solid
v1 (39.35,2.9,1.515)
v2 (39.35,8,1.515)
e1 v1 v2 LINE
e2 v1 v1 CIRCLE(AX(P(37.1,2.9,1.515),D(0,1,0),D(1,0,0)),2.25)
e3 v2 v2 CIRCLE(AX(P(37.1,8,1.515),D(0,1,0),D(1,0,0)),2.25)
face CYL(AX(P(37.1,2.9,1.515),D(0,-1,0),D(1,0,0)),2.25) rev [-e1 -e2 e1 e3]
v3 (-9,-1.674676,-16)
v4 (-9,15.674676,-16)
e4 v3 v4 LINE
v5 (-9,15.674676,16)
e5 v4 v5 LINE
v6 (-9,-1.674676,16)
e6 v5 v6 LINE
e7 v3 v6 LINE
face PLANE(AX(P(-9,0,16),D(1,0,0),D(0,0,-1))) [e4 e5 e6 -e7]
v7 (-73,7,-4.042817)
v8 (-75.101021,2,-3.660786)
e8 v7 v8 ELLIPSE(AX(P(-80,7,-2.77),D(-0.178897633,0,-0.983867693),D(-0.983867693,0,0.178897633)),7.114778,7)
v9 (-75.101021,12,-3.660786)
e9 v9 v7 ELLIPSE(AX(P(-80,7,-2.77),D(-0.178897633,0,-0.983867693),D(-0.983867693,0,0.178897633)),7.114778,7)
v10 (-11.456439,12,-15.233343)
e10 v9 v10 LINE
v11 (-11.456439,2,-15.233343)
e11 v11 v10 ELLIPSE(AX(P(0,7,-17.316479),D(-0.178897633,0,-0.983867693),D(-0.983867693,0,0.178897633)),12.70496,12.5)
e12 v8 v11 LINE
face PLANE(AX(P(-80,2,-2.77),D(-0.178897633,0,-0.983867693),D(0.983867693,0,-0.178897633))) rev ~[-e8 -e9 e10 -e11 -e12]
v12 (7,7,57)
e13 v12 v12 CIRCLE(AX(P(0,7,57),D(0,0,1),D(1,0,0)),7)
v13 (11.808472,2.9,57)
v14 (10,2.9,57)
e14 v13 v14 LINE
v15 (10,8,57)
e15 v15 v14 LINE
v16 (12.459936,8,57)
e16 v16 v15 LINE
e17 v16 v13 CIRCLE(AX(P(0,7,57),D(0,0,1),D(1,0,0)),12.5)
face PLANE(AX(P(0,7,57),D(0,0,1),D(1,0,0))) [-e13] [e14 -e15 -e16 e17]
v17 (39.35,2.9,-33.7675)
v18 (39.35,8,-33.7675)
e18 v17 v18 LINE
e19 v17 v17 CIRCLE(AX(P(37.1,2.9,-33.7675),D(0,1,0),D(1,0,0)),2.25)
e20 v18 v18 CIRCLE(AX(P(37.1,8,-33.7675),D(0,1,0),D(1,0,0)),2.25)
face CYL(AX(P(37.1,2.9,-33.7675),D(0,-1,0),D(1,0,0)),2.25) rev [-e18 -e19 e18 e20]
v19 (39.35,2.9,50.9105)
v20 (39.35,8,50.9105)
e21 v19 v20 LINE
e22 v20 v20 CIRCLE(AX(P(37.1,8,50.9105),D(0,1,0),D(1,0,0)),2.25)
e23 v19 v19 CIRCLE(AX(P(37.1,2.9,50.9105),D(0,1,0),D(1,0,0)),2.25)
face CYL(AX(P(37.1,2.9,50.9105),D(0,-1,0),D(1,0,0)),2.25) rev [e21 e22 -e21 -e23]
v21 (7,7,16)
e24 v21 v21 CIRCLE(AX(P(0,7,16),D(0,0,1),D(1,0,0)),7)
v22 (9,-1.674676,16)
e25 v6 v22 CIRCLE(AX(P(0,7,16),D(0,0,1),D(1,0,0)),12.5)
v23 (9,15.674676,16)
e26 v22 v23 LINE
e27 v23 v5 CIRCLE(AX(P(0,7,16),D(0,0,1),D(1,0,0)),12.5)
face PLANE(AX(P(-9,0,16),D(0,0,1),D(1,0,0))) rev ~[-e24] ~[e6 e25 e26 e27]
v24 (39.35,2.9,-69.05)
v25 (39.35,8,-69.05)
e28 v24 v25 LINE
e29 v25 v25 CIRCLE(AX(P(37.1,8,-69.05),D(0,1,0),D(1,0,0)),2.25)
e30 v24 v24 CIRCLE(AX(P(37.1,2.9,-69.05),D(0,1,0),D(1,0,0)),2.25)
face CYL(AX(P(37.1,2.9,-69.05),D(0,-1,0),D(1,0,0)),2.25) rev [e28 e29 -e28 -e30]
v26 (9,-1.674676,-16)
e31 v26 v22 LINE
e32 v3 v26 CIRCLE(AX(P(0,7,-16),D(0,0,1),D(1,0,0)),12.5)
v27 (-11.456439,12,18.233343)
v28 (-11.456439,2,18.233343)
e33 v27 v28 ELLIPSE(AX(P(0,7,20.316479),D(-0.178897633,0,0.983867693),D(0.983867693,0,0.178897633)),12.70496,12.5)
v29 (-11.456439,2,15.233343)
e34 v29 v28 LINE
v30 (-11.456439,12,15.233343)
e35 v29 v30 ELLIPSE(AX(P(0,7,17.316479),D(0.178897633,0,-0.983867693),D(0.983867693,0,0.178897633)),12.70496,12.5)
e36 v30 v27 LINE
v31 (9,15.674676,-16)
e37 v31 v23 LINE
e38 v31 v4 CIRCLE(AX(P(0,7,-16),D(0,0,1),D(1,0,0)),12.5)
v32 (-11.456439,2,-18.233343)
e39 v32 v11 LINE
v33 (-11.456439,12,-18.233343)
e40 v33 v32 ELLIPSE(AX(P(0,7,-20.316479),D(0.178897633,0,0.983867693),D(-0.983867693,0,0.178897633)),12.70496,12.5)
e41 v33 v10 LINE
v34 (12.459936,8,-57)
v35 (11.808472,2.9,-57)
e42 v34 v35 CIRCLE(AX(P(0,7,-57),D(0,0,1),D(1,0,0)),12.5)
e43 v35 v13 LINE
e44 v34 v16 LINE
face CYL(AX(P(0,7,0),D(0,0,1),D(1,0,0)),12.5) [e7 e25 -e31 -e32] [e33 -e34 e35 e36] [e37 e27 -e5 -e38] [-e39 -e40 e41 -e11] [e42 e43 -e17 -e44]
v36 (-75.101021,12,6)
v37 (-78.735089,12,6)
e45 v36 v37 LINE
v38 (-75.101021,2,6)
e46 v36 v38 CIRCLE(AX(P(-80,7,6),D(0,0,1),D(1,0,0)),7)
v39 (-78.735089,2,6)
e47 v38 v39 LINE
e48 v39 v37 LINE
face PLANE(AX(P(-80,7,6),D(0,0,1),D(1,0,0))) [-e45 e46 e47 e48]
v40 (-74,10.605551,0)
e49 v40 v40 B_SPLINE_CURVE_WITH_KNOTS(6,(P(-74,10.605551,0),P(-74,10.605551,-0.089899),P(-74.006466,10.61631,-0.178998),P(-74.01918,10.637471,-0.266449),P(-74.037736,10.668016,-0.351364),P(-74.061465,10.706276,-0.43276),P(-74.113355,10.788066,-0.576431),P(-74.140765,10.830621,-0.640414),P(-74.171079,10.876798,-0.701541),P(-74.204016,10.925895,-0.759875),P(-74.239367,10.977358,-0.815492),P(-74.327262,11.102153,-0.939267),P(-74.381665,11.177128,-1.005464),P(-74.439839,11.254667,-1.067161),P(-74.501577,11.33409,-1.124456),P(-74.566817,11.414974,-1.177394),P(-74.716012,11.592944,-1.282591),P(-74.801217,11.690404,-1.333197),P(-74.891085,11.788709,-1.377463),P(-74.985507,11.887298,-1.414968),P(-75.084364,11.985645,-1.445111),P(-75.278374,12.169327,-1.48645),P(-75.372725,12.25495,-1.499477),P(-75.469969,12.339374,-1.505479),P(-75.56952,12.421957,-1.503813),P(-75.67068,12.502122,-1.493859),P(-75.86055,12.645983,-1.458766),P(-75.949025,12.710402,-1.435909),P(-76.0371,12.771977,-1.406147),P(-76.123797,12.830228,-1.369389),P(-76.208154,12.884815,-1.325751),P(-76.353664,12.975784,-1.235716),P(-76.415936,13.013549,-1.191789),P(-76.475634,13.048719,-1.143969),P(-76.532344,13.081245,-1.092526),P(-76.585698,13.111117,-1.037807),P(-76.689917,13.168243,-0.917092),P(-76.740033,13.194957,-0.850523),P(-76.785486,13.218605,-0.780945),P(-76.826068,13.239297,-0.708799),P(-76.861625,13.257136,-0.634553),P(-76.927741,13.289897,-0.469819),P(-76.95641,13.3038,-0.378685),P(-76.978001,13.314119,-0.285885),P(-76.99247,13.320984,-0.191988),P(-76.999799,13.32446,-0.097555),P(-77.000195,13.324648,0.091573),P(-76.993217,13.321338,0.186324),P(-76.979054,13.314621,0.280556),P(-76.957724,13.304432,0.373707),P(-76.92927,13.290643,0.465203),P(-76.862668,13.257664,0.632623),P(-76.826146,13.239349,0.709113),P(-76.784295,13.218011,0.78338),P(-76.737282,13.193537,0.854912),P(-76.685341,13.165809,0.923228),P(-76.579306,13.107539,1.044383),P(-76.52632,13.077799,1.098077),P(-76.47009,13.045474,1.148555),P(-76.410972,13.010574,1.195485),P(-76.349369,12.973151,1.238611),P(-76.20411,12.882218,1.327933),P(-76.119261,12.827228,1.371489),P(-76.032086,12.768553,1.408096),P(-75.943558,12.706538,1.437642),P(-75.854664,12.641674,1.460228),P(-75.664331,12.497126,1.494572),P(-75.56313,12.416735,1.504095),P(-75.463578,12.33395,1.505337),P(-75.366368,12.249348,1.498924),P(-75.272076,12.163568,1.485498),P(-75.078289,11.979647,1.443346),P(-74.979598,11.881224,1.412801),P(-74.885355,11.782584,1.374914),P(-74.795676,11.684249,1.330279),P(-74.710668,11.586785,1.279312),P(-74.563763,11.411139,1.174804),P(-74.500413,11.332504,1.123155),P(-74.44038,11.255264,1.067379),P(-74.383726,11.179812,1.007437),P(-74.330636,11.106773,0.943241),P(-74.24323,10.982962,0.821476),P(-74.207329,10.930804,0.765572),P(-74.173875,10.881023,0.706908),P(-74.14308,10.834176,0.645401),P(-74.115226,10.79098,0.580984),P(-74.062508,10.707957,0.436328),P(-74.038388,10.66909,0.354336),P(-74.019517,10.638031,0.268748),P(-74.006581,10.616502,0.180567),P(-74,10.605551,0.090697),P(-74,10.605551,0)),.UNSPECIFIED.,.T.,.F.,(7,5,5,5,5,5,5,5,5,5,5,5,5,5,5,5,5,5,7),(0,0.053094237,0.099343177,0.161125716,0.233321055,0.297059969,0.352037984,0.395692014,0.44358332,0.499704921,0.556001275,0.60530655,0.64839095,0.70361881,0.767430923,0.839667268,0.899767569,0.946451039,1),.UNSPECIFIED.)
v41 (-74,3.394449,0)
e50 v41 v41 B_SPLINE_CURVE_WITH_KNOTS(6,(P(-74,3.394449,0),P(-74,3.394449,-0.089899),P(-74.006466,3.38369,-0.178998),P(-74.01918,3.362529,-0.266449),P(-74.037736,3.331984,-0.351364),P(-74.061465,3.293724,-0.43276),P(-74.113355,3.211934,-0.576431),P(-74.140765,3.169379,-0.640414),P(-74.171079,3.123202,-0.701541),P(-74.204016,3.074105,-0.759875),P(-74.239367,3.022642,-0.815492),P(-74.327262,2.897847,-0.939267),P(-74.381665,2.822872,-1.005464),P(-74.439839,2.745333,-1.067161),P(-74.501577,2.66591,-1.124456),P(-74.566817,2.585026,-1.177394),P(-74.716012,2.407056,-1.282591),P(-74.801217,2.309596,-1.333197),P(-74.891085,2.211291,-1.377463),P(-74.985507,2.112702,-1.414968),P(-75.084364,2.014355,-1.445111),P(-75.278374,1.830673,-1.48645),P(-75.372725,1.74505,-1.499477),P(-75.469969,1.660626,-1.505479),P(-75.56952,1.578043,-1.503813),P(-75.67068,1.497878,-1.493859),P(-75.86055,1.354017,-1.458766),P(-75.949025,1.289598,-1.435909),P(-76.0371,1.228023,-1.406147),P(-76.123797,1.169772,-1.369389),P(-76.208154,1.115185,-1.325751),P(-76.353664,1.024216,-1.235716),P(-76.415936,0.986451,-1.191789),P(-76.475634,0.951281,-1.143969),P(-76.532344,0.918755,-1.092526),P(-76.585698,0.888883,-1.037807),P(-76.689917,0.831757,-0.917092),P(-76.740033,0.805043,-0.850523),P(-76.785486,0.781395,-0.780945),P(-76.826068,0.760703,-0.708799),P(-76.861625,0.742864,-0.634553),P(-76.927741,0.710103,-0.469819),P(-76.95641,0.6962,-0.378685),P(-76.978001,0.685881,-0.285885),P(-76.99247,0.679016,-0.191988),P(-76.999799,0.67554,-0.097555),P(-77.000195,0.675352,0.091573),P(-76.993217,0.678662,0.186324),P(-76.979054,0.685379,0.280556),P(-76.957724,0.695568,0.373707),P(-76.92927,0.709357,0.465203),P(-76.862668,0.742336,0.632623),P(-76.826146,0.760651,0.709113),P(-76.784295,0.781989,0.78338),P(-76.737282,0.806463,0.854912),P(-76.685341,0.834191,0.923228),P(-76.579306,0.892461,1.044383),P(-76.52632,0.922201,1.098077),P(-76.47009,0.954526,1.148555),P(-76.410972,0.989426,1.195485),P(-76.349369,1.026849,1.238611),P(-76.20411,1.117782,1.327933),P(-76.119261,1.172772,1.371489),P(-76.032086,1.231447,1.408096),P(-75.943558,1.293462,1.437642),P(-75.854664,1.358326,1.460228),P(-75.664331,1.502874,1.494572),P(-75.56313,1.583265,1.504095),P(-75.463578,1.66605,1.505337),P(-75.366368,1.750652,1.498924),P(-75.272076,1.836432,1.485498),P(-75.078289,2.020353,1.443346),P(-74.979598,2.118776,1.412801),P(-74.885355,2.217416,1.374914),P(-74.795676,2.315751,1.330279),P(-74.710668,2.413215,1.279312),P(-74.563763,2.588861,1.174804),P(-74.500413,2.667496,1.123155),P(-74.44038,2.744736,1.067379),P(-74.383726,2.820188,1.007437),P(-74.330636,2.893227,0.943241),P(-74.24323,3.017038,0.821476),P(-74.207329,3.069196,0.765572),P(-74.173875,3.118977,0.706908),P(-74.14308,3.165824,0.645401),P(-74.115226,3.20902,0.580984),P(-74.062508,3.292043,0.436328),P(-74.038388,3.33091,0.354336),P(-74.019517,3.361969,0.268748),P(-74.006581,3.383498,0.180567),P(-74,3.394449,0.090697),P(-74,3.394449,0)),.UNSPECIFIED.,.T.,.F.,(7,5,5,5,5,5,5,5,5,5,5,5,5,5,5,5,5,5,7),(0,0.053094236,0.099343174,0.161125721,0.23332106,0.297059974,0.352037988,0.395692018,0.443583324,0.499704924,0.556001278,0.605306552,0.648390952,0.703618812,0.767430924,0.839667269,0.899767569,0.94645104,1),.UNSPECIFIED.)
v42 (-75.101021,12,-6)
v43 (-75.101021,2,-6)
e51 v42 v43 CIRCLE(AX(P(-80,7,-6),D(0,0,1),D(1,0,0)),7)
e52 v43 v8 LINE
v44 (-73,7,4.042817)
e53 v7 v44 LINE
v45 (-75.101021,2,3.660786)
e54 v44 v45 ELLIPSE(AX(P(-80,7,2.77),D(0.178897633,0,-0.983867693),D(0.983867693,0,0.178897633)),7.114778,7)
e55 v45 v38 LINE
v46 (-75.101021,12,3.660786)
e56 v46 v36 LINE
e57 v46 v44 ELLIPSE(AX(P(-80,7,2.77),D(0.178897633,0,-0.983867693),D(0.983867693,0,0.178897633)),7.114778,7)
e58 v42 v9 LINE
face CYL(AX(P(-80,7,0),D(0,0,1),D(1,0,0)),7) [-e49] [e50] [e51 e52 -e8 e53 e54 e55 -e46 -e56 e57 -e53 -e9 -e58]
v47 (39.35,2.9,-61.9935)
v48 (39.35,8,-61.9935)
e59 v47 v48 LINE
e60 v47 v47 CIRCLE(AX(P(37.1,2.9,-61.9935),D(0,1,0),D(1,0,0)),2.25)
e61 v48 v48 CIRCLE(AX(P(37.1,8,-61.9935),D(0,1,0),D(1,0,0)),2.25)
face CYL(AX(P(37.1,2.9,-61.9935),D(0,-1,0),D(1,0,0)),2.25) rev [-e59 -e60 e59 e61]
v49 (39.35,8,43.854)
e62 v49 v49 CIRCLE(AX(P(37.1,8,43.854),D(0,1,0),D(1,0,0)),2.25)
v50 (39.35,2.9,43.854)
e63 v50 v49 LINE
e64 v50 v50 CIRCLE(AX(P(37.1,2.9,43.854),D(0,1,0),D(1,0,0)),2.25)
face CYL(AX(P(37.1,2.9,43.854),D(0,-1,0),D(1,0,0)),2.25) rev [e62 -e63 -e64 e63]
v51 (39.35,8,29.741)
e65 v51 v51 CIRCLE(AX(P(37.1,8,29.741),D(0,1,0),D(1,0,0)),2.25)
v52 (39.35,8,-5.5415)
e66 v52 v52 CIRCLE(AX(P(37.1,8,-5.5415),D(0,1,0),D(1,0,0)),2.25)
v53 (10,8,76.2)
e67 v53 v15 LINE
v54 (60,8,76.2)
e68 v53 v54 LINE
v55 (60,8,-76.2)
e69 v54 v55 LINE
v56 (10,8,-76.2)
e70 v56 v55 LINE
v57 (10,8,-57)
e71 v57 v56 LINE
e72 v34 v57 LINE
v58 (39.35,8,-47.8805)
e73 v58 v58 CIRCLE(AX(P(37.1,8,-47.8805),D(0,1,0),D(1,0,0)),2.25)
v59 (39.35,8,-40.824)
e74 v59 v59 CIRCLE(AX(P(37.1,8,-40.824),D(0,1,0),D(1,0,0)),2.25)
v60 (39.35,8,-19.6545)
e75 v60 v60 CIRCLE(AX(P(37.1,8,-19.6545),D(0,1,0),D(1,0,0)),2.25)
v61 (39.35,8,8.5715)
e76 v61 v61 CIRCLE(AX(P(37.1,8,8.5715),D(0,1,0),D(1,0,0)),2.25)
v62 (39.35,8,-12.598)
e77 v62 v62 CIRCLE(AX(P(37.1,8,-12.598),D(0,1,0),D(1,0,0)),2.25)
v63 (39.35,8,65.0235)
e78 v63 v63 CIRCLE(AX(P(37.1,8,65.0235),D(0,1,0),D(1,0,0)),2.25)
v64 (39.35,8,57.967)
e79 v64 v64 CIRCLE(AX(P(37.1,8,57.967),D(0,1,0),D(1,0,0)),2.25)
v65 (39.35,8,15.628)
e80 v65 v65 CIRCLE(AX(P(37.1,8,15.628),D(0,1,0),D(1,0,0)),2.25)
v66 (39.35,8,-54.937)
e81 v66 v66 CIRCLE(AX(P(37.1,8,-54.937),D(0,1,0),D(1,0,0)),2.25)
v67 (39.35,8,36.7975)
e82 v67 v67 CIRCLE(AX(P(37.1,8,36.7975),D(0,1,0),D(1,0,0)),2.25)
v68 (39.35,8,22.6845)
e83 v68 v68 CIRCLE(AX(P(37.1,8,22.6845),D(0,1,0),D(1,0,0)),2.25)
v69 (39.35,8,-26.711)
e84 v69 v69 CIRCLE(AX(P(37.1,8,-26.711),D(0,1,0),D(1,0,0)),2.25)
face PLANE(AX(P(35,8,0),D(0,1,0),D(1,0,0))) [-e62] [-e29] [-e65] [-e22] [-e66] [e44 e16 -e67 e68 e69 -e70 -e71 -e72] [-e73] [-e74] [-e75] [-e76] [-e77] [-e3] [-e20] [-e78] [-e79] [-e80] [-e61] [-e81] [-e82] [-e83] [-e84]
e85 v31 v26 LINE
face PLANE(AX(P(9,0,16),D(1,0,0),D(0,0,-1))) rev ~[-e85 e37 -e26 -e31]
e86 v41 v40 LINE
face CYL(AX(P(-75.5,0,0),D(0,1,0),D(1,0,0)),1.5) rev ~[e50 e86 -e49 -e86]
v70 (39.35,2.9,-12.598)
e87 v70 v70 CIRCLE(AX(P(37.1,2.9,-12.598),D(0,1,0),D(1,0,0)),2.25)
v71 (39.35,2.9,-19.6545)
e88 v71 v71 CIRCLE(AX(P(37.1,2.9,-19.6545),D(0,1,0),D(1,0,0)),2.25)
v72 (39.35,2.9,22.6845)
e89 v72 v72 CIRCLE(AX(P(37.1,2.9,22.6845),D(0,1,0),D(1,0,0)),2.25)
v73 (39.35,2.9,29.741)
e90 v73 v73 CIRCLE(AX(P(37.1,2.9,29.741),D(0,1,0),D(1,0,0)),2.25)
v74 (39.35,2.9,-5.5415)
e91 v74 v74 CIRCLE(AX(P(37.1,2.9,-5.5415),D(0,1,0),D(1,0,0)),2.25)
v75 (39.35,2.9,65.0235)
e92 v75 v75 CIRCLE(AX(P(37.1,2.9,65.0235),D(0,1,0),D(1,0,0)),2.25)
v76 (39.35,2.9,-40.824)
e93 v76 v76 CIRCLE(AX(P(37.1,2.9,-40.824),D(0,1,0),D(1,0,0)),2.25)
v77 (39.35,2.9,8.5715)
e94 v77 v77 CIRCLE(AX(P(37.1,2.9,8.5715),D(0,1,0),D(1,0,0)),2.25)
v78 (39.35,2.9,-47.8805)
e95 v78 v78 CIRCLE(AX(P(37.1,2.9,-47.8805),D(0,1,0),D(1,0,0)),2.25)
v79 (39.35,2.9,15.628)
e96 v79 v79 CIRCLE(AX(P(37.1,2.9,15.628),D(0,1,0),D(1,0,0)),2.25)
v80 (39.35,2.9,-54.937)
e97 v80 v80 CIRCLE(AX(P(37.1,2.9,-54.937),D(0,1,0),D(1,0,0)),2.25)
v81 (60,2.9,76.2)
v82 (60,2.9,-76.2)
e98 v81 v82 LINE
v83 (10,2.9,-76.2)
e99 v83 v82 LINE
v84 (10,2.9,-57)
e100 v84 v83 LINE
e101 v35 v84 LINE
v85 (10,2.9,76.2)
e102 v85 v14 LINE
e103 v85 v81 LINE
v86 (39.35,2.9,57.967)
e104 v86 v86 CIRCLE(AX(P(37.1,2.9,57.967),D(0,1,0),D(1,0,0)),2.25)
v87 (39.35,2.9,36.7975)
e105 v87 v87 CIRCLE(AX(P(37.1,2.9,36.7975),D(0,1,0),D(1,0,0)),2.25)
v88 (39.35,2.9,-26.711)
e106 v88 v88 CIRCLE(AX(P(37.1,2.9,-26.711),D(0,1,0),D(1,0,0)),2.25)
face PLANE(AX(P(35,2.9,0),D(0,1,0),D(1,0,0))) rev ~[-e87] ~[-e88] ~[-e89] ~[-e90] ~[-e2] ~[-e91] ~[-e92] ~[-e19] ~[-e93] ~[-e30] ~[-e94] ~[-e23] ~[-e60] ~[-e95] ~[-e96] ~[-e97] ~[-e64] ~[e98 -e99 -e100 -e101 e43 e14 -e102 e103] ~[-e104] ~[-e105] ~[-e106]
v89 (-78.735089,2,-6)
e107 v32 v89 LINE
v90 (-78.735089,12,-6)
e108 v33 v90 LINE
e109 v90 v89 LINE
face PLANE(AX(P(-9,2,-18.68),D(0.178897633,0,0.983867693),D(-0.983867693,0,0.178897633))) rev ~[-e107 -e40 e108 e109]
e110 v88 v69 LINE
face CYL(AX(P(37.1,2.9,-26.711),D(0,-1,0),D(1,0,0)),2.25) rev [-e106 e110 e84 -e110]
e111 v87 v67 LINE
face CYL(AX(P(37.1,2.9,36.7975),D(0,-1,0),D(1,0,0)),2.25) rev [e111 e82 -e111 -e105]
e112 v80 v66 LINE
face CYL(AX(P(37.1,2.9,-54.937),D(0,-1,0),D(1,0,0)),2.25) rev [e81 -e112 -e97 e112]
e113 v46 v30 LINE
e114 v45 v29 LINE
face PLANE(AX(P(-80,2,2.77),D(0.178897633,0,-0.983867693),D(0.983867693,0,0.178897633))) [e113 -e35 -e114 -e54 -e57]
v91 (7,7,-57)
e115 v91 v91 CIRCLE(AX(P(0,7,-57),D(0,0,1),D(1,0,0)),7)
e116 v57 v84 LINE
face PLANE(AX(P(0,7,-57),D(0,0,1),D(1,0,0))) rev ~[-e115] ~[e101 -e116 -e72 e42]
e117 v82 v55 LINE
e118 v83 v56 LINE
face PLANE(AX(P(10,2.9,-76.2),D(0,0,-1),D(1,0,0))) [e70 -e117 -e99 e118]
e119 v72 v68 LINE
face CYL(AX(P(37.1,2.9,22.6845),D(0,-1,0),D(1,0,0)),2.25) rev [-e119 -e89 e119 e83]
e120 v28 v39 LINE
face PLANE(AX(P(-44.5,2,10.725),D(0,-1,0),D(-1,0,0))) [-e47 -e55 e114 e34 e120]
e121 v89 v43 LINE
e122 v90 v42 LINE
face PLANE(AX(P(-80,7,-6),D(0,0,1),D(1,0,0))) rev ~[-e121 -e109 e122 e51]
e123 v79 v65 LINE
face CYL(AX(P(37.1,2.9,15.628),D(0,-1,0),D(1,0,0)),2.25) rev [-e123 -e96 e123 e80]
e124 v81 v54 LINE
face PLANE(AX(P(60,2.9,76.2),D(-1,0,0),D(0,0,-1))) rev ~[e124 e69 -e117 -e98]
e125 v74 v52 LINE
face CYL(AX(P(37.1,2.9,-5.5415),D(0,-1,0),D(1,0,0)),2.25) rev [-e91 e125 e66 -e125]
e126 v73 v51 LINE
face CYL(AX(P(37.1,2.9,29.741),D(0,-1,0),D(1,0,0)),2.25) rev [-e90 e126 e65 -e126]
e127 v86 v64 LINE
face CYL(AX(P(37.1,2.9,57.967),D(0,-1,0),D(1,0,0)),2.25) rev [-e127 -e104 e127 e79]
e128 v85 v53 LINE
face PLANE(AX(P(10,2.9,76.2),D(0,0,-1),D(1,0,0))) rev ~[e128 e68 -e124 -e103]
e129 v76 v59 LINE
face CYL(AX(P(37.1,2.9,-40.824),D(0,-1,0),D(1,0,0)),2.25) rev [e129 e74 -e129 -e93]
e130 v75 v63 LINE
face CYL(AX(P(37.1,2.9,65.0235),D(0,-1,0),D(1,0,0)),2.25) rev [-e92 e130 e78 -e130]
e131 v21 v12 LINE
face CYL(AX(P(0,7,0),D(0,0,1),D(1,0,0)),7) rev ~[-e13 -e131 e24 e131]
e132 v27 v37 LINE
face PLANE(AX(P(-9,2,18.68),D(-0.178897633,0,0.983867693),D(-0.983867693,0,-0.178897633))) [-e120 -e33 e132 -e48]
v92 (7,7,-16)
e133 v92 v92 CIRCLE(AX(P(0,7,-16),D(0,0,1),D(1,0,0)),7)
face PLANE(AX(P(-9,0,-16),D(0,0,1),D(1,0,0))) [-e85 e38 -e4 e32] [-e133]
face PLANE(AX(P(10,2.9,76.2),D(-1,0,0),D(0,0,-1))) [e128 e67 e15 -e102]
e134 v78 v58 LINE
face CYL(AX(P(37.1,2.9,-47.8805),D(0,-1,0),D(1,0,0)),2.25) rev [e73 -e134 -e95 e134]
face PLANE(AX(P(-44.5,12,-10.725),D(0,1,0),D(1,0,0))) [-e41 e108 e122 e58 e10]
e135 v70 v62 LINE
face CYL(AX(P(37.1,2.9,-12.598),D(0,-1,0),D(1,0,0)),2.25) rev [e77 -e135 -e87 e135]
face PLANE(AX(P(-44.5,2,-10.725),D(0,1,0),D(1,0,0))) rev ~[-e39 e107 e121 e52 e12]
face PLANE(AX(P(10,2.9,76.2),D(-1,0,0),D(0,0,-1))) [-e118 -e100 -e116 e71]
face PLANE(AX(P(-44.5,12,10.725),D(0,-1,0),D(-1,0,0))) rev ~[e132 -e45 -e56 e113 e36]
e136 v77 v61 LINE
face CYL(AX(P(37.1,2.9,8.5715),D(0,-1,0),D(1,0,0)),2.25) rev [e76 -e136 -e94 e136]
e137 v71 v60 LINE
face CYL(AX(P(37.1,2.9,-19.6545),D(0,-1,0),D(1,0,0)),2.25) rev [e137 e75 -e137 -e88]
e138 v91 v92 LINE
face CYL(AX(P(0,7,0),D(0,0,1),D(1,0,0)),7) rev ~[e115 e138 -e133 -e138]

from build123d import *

# Parameters (mm, degrees)
SKETCH1_R           = 12.5
BOSS_EXTRUDE1_DEPTH = 57
SKETCH2_R           = 7
CUT_EXTRUDE1_DEPTH  = 60
SKETCH3_W           = 18
SKETCH3_H           = 32
CUT_EXTRUDE2_DEPTH  = 30
BOSS_EXTRUDE2_START = 2.9
SKETCH4_W           = 50
SKETCH4_H           = 152.4
SKETCH4_R           = 2.25
BOSS_EXTRUDE2_DEPTH = 5.1
BOSS_EXTRUDE3_START = 2
BOSS_EXTRUDE3_DEPTH = 10
SKETCH6_R           = 7
BOSS_EXTRUDE4_DEPTH = 6
SKETCH7_R           = 1.5
CUT_EXTRUDE3_DEPTH  = 14


with BuildPart() as part:
    # Sketch1 → Boss-Extrude1 (new, symmetric)
    with BuildSketch(Plane.XY):
        with Locations((0, 7)):
            Circle(SKETCH1_R)
    extrude(amount=BOSS_EXTRUDE1_DEPTH, both=True)

    # Sketch2 → Cut-Extrude1 (cut, symmetric)
    with BuildSketch(Plane.XY):
        with Locations((0, 7)):
            Circle(SKETCH2_R)
    extrude(amount=CUT_EXTRUDE1_DEPTH, both=True, mode=Mode.SUBTRACT)

    # Sketch3 → Cut-Extrude2 (cut, symmetric)
    with BuildSketch(Plane(origin=(0, 0, 0), x_dir=(1, 0, 0), z_dir=(0, 1, 0))):
        Rectangle(SKETCH3_W, SKETCH3_H)
    extrude(amount=CUT_EXTRUDE2_DEPTH, both=True, mode=Mode.SUBTRACT)

    # Sketch4 → Boss-Extrude2 (add)
    with BuildSketch(Plane(origin=(0, 0, 0), x_dir=(1, 0, 0), z_dir=(0, 1, 0)).offset(BOSS_EXTRUDE2_START)):
        with Locations((35, 0)):
            Rectangle(SKETCH4_W, SKETCH4_H)
        with Locations((37.1, 69.05)):
            Circle(SKETCH4_R, mode=Mode.SUBTRACT)
        with Locations((37.1, 61.9935)):
            Circle(SKETCH4_R, mode=Mode.SUBTRACT)
        with Locations((37.1, 54.937)):
            Circle(SKETCH4_R, mode=Mode.SUBTRACT)
        with Locations((37.1, 47.8805)):
            Circle(SKETCH4_R, mode=Mode.SUBTRACT)
        with Locations((37.1, 40.824)):
            Circle(SKETCH4_R, mode=Mode.SUBTRACT)
        with Locations((37.1, 33.7675)):
            Circle(SKETCH4_R, mode=Mode.SUBTRACT)
        with Locations((37.1, 26.711)):
            Circle(SKETCH4_R, mode=Mode.SUBTRACT)
        with Locations((37.1, 19.6545)):
            Circle(SKETCH4_R, mode=Mode.SUBTRACT)
        with Locations((37.1, 12.598)):
            Circle(SKETCH4_R, mode=Mode.SUBTRACT)
        with Locations((37.1, 5.5415)):
            Circle(SKETCH4_R, mode=Mode.SUBTRACT)
        with Locations((37.1, -1.515)):
            Circle(SKETCH4_R, mode=Mode.SUBTRACT)
        with Locations((37.1, -8.5715)):
            Circle(SKETCH4_R, mode=Mode.SUBTRACT)
        with Locations((37.1, -15.628)):
            Circle(SKETCH4_R, mode=Mode.SUBTRACT)
        with Locations((37.1, -22.6845)):
            Circle(SKETCH4_R, mode=Mode.SUBTRACT)
        with Locations((37.1, -29.741)):
            Circle(SKETCH4_R, mode=Mode.SUBTRACT)
        with Locations((37.1, -36.7975)):
            Circle(SKETCH4_R, mode=Mode.SUBTRACT)
        with Locations((37.1, -43.854)):
            Circle(SKETCH4_R, mode=Mode.SUBTRACT)
        with Locations((37.1, -50.9105)):
            Circle(SKETCH4_R, mode=Mode.SUBTRACT)
        with Locations((37.1, -57.967)):
            Circle(SKETCH4_R, mode=Mode.SUBTRACT)
        with Locations((37.1, -65.0235)):
            Circle(SKETCH4_R, mode=Mode.SUBTRACT)
    extrude(amount=BOSS_EXTRUDE2_DEPTH)

    # Sketch5 → Boss-Extrude3 (add)
    with BuildSketch(Plane(origin=(0, 0, 0), x_dir=(1, 0, 0), z_dir=(0, 1, 0)).offset(BOSS_EXTRUDE3_START)):
        Polygon((-9, 15.68), (-9, 18.68), (-80, 5.77), (-80, 2.77), align=None)
        Polygon((-9, -15.68), (-9, -18.68), (-80, -5.77), (-80, -2.77), align=None)
    extrude(amount=BOSS_EXTRUDE3_DEPTH)

    # Sketch6 → Boss-Extrude4 (add, symmetric)
    with BuildSketch(Plane.XY):
        with Locations((-80, 7)):
            Circle(SKETCH6_R)
    extrude(amount=BOSS_EXTRUDE4_DEPTH, both=True)

    # Sketch7 → Cut-Extrude3 (cut, symmetric)
    with BuildSketch(Plane(origin=(0, 0, 0), x_dir=(1, 0, 0), z_dir=(0, 1, 0))):
        with Locations((-75.5, 0)):
            Circle(SKETCH7_R)
    extrude(amount=CUT_EXTRUDE3_DEPTH, both=True, mode=Mode.SUBTRACT)


solid = part.part
